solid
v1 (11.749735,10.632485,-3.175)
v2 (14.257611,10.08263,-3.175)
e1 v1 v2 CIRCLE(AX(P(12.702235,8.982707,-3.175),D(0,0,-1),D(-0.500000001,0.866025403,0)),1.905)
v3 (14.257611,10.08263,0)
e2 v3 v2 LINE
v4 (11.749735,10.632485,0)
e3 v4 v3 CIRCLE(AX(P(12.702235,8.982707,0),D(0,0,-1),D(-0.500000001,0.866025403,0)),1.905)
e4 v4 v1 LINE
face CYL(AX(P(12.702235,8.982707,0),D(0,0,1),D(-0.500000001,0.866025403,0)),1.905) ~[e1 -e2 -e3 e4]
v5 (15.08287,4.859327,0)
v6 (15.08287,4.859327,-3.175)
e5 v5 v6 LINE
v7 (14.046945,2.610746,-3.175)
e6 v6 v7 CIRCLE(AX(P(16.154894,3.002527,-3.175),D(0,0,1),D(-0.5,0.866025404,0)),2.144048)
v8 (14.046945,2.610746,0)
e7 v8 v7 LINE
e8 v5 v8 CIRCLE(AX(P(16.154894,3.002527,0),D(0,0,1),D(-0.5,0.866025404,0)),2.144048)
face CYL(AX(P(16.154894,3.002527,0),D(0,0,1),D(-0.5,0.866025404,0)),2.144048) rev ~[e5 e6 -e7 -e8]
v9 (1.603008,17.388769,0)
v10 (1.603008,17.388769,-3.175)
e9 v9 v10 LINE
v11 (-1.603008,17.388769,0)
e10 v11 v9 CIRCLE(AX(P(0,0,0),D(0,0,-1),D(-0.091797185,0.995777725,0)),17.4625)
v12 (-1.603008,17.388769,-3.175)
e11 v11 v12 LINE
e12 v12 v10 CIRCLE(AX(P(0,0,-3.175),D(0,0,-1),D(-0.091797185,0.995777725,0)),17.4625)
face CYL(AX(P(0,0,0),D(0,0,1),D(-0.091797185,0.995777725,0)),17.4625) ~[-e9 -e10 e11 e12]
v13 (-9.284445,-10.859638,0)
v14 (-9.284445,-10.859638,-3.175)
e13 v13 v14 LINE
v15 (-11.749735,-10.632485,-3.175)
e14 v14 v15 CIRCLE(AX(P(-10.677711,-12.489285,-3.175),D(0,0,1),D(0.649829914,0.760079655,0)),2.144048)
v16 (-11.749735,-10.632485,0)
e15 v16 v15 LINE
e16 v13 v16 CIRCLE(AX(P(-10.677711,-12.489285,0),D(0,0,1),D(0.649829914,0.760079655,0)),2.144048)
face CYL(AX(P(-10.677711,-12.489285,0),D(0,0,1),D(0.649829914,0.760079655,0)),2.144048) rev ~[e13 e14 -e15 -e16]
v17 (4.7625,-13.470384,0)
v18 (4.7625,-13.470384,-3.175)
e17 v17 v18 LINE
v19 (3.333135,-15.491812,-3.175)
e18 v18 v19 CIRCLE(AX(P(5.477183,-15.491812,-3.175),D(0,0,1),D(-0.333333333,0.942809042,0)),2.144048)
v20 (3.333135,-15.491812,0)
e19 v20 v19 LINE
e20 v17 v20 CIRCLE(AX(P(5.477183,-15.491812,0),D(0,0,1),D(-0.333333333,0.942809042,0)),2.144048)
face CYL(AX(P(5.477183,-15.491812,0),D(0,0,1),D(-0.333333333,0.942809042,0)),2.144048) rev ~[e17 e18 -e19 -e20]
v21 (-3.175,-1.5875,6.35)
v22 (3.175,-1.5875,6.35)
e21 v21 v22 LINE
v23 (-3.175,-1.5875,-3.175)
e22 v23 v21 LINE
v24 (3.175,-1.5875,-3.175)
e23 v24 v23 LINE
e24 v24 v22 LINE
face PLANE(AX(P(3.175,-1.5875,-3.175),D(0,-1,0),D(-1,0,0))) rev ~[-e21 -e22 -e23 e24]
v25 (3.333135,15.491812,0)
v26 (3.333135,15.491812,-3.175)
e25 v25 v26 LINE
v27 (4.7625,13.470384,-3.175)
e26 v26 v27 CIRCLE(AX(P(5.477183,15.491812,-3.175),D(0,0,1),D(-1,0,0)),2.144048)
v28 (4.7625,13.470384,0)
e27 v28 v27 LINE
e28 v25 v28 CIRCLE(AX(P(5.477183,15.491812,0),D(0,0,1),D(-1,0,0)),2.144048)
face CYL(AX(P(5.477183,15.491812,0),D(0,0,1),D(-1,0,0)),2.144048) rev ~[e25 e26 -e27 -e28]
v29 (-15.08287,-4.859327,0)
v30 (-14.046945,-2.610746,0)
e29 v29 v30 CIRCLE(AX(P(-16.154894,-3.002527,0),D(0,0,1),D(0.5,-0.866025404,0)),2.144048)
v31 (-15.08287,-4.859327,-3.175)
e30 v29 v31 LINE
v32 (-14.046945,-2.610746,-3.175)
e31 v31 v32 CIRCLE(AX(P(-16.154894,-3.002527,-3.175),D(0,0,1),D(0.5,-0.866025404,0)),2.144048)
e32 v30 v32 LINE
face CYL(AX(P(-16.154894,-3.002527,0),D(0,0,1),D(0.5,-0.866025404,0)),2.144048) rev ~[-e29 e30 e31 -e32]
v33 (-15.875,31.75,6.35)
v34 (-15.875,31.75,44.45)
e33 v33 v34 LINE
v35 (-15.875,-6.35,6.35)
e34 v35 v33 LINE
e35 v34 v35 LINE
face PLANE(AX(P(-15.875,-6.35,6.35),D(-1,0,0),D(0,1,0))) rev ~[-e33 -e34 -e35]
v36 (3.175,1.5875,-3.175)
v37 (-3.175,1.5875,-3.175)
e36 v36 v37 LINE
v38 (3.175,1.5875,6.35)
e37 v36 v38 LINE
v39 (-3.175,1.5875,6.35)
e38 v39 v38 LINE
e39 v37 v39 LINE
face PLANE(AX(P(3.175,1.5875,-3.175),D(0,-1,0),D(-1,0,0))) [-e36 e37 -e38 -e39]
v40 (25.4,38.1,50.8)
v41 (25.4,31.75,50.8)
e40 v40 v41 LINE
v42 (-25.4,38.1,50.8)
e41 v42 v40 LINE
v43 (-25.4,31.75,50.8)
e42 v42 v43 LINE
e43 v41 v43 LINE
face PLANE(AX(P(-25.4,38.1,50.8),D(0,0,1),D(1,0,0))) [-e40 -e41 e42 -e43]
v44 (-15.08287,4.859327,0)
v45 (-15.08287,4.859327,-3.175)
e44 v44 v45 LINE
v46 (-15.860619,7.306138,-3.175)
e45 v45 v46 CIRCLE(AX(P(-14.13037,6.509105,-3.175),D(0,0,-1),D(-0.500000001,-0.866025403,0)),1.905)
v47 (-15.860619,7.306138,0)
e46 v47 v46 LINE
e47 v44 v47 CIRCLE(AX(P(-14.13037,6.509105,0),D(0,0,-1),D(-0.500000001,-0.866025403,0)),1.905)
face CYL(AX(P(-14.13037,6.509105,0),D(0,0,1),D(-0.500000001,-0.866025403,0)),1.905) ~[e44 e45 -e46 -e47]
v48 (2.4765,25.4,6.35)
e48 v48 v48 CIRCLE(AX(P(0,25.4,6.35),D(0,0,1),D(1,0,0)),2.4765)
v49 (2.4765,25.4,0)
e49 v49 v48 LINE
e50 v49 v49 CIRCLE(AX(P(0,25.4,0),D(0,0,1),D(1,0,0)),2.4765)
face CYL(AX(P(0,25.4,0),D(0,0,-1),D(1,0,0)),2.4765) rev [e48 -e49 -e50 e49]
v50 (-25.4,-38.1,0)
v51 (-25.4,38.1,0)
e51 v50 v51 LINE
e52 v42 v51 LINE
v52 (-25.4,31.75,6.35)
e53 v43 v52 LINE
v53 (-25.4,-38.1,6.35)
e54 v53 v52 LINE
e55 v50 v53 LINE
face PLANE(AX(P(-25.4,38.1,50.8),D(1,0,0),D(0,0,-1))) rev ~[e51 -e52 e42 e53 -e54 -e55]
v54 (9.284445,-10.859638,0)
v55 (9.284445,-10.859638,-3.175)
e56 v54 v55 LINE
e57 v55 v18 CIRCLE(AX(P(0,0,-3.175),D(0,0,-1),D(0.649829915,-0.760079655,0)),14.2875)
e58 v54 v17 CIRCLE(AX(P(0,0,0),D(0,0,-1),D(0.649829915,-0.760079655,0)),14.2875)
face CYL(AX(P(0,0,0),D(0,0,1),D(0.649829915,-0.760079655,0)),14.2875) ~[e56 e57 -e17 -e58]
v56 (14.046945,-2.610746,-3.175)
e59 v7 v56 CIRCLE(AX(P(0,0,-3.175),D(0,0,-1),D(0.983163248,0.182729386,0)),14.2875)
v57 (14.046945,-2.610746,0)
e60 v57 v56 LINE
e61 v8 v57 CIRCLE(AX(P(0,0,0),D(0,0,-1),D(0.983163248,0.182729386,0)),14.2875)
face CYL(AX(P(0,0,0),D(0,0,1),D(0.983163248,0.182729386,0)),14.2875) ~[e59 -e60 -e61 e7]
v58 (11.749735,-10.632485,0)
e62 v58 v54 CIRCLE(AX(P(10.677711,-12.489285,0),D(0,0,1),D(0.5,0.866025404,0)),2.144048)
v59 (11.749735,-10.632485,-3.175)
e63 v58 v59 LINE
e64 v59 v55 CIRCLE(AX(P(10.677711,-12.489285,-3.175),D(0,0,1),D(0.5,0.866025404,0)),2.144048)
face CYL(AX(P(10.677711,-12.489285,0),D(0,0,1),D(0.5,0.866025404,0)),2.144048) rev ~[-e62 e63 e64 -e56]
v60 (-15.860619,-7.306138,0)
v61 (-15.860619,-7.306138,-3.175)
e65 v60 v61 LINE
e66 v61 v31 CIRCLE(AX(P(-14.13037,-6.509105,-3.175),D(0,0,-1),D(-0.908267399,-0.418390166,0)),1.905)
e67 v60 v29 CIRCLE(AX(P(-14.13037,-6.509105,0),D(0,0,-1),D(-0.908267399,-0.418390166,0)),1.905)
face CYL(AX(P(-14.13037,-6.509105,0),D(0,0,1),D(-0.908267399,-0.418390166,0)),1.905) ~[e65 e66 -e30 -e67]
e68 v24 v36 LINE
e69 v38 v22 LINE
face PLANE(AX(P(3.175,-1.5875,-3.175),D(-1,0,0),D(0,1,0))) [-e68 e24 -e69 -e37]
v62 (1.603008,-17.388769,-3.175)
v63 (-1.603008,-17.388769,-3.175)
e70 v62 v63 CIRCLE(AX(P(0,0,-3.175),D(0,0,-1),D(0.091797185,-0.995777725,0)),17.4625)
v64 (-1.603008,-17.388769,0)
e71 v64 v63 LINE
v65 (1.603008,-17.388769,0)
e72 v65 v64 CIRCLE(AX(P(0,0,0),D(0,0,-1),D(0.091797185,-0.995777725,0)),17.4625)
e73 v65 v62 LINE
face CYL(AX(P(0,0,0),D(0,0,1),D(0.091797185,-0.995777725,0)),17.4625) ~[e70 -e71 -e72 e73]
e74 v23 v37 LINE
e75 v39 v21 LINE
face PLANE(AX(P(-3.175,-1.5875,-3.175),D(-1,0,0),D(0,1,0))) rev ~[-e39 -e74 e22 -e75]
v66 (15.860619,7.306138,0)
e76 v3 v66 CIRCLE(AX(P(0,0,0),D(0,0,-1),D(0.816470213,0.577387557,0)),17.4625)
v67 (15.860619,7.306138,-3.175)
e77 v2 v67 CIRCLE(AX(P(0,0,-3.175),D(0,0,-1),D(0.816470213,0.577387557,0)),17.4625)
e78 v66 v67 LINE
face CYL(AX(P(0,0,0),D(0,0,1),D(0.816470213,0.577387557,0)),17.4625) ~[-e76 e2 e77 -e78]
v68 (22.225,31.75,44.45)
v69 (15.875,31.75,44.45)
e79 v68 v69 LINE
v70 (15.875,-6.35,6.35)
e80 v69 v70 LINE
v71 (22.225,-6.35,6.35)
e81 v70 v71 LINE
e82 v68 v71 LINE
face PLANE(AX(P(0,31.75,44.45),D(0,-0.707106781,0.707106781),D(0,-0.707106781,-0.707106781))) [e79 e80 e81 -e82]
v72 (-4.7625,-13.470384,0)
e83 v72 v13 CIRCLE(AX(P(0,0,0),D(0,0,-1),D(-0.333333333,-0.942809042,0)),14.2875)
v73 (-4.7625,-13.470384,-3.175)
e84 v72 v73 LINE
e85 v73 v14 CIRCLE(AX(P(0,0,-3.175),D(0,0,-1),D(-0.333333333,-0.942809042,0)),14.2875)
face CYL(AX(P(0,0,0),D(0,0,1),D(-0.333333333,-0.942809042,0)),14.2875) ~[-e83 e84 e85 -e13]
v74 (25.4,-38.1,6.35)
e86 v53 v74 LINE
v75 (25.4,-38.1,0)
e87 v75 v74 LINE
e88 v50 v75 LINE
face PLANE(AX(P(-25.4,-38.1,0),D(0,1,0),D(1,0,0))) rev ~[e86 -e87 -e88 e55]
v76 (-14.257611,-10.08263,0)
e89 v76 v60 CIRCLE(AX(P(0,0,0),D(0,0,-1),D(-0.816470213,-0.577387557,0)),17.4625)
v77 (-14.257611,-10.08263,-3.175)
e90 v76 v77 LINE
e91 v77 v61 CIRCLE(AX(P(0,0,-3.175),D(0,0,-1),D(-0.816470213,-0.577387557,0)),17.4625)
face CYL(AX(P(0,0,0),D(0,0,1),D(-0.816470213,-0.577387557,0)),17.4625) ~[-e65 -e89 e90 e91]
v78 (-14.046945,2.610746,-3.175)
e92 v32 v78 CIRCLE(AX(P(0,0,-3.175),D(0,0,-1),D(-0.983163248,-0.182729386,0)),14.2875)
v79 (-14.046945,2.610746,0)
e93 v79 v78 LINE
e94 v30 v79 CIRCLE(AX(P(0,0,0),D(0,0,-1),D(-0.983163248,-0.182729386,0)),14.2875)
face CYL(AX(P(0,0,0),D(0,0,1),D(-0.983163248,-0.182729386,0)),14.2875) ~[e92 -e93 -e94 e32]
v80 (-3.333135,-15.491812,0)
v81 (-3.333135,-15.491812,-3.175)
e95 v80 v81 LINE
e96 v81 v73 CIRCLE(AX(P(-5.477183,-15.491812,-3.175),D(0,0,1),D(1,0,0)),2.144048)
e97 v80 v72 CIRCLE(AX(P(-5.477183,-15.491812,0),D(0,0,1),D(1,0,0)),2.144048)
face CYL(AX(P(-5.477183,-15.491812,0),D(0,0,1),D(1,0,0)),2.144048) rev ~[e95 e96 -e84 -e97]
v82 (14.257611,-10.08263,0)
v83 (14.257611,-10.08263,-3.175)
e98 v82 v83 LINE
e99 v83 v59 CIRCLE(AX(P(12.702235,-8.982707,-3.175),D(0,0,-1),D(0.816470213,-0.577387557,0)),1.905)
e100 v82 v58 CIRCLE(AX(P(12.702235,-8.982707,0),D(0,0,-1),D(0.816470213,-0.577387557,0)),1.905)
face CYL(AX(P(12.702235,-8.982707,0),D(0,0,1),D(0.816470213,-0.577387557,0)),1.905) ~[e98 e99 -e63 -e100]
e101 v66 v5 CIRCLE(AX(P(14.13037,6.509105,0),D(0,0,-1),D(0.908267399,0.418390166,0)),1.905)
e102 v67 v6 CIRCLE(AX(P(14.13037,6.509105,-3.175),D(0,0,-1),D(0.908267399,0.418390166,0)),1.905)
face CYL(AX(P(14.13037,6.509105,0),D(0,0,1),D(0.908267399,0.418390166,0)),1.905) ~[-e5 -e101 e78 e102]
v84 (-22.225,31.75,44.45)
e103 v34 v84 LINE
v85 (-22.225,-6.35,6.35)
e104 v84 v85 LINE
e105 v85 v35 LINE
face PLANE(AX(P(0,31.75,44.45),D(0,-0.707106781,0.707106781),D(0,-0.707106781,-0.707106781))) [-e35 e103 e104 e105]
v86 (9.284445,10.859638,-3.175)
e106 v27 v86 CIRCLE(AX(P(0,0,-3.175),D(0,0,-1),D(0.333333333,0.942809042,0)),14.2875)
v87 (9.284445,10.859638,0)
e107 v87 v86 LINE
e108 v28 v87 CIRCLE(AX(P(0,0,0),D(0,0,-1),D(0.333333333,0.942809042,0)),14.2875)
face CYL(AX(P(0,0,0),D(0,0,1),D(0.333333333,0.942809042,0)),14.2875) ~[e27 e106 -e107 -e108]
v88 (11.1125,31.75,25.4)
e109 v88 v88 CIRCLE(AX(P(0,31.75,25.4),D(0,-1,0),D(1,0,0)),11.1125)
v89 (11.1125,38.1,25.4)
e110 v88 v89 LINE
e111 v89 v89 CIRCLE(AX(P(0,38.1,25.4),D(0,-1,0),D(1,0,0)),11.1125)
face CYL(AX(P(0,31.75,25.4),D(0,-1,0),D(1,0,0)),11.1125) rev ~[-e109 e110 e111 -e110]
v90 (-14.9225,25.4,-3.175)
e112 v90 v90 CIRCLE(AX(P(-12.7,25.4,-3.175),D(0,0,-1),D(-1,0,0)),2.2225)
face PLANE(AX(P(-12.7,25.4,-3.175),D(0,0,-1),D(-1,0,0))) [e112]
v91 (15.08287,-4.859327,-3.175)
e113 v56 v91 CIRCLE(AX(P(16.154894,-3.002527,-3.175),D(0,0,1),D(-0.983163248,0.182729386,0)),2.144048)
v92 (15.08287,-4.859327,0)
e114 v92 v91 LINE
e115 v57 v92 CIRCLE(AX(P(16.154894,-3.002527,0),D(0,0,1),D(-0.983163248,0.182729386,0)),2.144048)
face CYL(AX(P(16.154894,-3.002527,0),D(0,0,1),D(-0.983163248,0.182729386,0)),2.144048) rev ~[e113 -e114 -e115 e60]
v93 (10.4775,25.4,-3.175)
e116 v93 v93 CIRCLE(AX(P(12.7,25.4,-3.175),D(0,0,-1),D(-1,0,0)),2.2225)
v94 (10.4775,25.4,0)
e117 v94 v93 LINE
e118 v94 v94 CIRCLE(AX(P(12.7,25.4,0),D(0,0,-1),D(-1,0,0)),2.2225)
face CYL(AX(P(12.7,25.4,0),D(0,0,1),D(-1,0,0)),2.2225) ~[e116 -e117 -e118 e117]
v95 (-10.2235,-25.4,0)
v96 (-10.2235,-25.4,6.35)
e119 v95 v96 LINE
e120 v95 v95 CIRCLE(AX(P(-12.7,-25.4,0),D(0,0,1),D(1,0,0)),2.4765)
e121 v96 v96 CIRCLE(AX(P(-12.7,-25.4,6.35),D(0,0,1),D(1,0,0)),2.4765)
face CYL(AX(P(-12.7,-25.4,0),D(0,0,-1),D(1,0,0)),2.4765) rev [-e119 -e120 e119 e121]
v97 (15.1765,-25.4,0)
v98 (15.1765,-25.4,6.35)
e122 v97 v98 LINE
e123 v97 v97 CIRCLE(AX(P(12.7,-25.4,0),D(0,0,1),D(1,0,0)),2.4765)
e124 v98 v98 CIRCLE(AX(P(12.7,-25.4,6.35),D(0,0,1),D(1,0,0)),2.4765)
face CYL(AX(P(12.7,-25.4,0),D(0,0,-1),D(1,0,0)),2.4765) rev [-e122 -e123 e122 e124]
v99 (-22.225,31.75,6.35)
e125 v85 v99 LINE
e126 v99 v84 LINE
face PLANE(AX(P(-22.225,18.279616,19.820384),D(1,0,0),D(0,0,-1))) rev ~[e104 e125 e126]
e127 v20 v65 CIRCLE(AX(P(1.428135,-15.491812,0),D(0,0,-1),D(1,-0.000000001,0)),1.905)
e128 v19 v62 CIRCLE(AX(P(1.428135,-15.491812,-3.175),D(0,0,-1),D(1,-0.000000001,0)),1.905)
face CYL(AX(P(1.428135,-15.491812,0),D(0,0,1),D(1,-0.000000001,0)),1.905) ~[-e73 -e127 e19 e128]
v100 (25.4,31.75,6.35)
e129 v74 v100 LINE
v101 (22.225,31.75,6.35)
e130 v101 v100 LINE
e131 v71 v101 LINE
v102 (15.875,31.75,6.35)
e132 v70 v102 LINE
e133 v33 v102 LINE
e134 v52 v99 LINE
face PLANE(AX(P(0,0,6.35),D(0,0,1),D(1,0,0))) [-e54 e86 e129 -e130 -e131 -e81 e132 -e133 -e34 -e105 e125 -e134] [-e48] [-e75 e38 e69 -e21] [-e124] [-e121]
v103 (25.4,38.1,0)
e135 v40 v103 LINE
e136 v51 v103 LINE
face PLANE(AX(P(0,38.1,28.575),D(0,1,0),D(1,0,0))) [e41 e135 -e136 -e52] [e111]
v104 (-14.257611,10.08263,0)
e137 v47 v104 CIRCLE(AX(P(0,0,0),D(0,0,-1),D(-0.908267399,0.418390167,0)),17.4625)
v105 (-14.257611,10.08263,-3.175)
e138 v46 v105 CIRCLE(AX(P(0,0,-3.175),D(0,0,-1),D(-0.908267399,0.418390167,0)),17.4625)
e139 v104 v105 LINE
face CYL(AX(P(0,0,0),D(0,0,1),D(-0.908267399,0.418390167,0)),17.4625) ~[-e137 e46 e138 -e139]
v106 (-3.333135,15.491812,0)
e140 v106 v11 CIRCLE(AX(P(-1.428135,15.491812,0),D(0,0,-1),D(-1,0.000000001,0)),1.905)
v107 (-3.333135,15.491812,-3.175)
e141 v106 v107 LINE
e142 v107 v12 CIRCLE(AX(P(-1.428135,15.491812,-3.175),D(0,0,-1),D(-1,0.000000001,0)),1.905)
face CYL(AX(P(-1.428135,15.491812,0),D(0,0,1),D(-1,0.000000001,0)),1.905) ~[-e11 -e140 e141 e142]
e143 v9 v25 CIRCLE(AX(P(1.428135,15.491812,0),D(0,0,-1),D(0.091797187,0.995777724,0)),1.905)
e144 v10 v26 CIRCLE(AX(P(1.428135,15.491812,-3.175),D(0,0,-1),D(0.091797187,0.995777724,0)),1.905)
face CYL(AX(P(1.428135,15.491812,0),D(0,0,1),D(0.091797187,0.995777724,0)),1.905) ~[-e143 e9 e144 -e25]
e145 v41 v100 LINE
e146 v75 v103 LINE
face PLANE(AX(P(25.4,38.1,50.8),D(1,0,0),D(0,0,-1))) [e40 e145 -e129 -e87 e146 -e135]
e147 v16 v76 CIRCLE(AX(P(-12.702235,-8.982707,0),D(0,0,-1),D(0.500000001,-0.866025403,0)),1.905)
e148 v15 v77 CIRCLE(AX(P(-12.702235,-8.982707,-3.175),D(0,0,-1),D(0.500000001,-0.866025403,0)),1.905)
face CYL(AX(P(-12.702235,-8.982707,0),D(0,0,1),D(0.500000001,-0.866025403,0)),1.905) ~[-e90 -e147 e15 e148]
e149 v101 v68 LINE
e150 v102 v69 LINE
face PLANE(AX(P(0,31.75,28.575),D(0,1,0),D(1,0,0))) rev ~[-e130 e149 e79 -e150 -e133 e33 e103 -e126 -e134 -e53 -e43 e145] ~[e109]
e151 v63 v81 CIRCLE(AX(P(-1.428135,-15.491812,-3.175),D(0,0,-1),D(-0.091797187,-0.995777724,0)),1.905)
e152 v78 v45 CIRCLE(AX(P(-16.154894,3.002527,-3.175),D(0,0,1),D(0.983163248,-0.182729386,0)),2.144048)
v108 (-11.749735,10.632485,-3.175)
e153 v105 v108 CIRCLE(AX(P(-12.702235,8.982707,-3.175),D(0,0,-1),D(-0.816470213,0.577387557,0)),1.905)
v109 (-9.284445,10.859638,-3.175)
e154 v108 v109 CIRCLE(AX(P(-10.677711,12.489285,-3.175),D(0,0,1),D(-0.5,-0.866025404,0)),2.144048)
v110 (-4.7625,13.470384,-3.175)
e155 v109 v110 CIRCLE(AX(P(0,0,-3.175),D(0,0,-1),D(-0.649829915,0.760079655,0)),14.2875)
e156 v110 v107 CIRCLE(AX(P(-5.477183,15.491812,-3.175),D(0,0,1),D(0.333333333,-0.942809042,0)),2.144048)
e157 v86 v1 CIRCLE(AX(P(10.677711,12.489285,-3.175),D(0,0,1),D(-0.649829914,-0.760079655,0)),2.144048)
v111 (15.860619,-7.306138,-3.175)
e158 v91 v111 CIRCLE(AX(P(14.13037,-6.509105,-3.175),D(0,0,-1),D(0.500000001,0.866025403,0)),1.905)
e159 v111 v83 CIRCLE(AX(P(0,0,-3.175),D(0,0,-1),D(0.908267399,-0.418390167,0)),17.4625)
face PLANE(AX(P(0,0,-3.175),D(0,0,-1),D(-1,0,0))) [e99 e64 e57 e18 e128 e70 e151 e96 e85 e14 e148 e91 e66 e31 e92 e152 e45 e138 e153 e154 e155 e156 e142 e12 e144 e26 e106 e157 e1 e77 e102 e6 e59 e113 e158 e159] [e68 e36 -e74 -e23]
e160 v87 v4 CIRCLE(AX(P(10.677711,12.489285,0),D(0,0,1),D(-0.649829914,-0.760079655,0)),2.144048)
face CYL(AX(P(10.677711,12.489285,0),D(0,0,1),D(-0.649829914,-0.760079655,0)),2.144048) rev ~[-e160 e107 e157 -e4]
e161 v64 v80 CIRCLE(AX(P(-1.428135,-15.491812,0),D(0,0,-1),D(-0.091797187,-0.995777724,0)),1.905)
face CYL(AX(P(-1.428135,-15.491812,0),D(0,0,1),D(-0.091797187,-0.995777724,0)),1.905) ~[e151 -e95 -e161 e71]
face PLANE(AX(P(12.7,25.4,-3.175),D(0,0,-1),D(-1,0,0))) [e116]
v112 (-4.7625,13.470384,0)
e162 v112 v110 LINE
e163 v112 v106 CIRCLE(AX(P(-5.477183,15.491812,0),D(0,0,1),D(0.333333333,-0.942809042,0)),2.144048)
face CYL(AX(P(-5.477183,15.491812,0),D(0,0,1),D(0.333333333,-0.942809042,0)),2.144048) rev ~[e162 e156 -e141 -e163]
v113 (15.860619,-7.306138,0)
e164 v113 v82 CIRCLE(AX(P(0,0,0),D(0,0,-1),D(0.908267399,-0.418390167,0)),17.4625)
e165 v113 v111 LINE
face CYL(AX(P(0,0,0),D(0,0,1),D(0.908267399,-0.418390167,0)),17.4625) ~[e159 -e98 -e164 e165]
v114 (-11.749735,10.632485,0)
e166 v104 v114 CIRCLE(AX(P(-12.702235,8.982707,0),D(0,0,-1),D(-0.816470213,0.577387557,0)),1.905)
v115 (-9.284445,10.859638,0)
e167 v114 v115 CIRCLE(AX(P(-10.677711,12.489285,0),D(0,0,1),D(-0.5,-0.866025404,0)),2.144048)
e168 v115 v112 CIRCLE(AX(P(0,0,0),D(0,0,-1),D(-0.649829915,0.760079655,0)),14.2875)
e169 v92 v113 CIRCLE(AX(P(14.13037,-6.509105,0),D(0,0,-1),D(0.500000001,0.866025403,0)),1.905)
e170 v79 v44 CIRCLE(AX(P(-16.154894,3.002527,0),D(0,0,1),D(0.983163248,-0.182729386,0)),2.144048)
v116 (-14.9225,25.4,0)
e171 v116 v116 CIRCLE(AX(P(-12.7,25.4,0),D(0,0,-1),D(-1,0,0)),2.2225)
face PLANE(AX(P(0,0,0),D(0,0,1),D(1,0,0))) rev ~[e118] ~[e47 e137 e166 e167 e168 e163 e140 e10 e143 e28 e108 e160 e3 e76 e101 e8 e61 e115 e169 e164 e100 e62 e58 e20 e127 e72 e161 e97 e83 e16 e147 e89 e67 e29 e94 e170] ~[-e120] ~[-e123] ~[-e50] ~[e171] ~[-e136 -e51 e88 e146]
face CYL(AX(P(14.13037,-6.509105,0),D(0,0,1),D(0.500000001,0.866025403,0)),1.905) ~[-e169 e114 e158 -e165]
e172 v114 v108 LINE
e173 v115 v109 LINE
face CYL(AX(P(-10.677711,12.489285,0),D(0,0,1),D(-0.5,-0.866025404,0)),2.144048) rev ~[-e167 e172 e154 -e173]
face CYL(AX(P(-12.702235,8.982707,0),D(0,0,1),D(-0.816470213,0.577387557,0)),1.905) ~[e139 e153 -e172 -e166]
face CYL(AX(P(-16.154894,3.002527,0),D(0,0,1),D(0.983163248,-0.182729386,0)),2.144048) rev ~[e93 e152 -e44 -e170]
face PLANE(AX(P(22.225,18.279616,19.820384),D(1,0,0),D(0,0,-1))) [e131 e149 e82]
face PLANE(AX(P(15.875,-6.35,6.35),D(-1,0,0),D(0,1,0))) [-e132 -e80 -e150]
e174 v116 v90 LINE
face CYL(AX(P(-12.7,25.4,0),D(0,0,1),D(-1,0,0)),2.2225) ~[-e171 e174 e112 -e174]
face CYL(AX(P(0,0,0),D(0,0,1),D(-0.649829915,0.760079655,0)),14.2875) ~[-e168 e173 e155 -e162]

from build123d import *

# Parameters (mm, degrees)
SKETCH1_W           = 50.8
SKETCH1_H           = 76.2
SKETCH1_R           = 2.4765
BOSS_EXTRUDE1_DEPTH = 6.35
SKETCH2_R           = 2.2225
BOSS_EXTRUDE2_DEPTH = 3.175
SKETCH3_W           = 6.35
SKETCH3_H           = 3.175
CUT_EXTRUDE1_DEPTH  = 10.525
SKETCH4_W           = 50.8
SKETCH4_H           = 44.45
BOSS_EXTRUDE3_DEPTH = 6.35
BOSS_EXTRUDE4_DEPTH = 22.225
SKETCH6_W           = 31.75
SKETCH6_H           = 38.1
CUT_EXTRUDE2_DEPTH  = 45.45
SKETCH7_R           = 11.1125
CUT_EXTRUDE3_DEPTH  = 7.35


with BuildPart() as part:
    # Sketch1 → Boss-Extrude1 (new body)
    with BuildSketch(Plane.XY):
        Rectangle(SKETCH1_W, SKETCH1_H)
        with Locations((-12.7, -25.4)):
            Circle(SKETCH1_R, mode=Mode.SUBTRACT)
        with Locations((12.7, -25.4)):
            Circle(SKETCH1_R, mode=Mode.SUBTRACT)
        with Locations((0, 25.4)):
            Circle(SKETCH1_R, mode=Mode.SUBTRACT)
    extrude(amount=BOSS_EXTRUDE1_DEPTH)

    # Sketch2 → Boss-Extrude2 (add)
    with BuildSketch(Plane(origin=(0, 0, 0), x_dir=(-1, 0, 0), z_dir=(0, 0, -1))):
        with Locations((-12.7, 25.4)):
            Circle(SKETCH2_R)
        with Locations((12.7, 25.4)):
            Circle(SKETCH2_R)
        with BuildLine():
            ThreePointArc((-4.7625, 13.470384182), (-7.14375, 12.373337957), (-9.2844449, 10.859638076))
            ThreePointArc((-9.2844449, 10.859638076), (-10.480991316, 10.354281134), (-11.74973534, 10.632485314))
            ThreePointArc((-11.74973534, 10.632485314), (-13.110218123, 10.843506493), (-14.257611096, 10.082630217))
            ThreePointArc((-14.257611096, 10.082630217), (-15.122968614, 8.73125), (-15.860619453, 7.306138298))
            ThreePointArc((-15.860619453, 7.306138298), (-15.94586115, 5.932028698), (-15.082870058, 4.859326635))
            ThreePointArc((-15.082870058, 4.859326635), (-14.207566158, 3.899664169), (-14.0469449, 2.610746105))
            ThreePointArc((-14.0469449, 2.610746105), (-14.2875, 0), (-14.0469449, -2.610746105))
            ThreePointArc((-14.0469449, -2.610746105), (-14.207566158, -3.899664169), (-15.082870058, -4.859326635))
            ThreePointArc((-15.082870058, -4.859326635), (-15.94586115, -5.932028698), (-15.860619453, -7.306138298))
            ThreePointArc((-15.860619453, -7.306138298), (-15.122968614, -8.73125), (-14.257611096, -10.082630217))
            ThreePointArc((-14.257611096, -10.082630217), (-13.110218123, -10.843506493), (-11.74973534, -10.632485314))
            ThreePointArc((-11.74973534, -10.632485314), (-10.480991316, -10.354281134), (-9.2844449, -10.859638076))
            ThreePointArc((-9.2844449, -10.859638076), (-7.14375, -12.373337957), (-4.7625, -13.470384182))
            ThreePointArc((-4.7625, -13.470384182), (-3.726574842, -14.253945304), (-3.333134718, -15.491811949))
            ThreePointArc((-3.333134718, -15.491811949), (-2.835643027, -16.77553519), (-1.603008357, -17.388768515))
            ThreePointArc((-1.603008357, -17.388768515), (0, -17.4625), (1.603008357, -17.388768515))
            ThreePointArc((1.603008357, -17.388768515), (2.835643027, -16.77553519), (3.333134718, -15.491811949))
            ThreePointArc((3.333134718, -15.491811949), (3.726574842, -14.253945304), (4.7625, -13.470384182))
            ThreePointArc((4.7625, -13.470384182), (7.14375, -12.373337957), (9.2844449, -10.859638076))
            ThreePointArc((9.2844449, -10.859638076), (10.480991316, -10.354281134), (11.74973534, -10.632485314))
            ThreePointArc((11.74973534, -10.632485314), (13.110218123, -10.843506493), (14.257611096, -10.082630217))
            ThreePointArc((14.257611096, -10.082630217), (15.122968614, -8.73125), (15.860619453, -7.306138298))
            ThreePointArc((15.860619453, -7.306138298), (15.94586115, -5.932028698), (15.082870058, -4.859326635))
            ThreePointArc((15.082870058, -4.859326635), (14.207566158, -3.899664169), (14.0469449, -2.610746105))
            ThreePointArc((14.0469449, -2.610746105), (14.2875, 0), (14.0469449, 2.610746105))
            ThreePointArc((14.0469449, 2.610746105), (14.207566158, 3.899664169), (15.082870058, 4.859326635))
            ThreePointArc((15.082870058, 4.859326635), (15.94586115, 5.932028698), (15.860619453, 7.306138298))
            ThreePointArc((15.860619453, 7.306138298), (15.122968614, 8.73125), (14.257611096, 10.082630217))
            ThreePointArc((14.257611096, 10.082630217), (13.110218123, 10.843506493), (11.74973534, 10.632485314))
            ThreePointArc((11.74973534, 10.632485314), (10.480991316, 10.354281134), (9.2844449, 10.859638076))
            ThreePointArc((9.2844449, 10.859638076), (7.14375, 12.373337957), (4.7625, 13.470384182))
            ThreePointArc((4.7625, 13.470384182), (3.726574842, 14.253945304), (3.333134718, 15.491811949))
            ThreePointArc((3.333134718, 15.491811949), (2.835643027, 16.77553519), (1.603008357, 17.388768515))
            ThreePointArc((1.603008357, 17.388768515), (0, 17.4625), (-1.603008357, 17.388768515))
            ThreePointArc((-1.603008357, 17.388768515), (-2.835643027, 16.77553519), (-3.333134718, 15.491811949))
            ThreePointArc((-3.333134718, 15.491811949), (-3.726574842, 14.253945304), (-4.7625, 13.470384182))
        make_face()
    extrude(amount=BOSS_EXTRUDE2_DEPTH)

    # Sketch3 → Cut-Extrude1 (cut, through all)
    with BuildSketch(Plane(origin=(0, 0, -3.175), x_dir=(-1, 0, 0), z_dir=(0, 0, -1))):
        Rectangle(SKETCH3_W, SKETCH3_H)
    extrude(amount=-CUT_EXTRUDE1_DEPTH, mode=Mode.SUBTRACT)

    # Sketch4 → Boss-Extrude3 (add)
    with BuildSketch(Plane(origin=(0, 38.1, 0), x_dir=(1, 0, 0), z_dir=(0, 1, 0))):
        with Locations((0, -28.575)):
            Rectangle(SKETCH4_W, SKETCH4_H)
    extrude(amount=-BOSS_EXTRUDE3_DEPTH)

    # Sketch5 → Boss-Extrude4 (add, symmetric)
    with BuildSketch(Plane(origin=(0, 0, 0), x_dir=(0, 0, -1), z_dir=(1, 0, 0))):
        Polygon((-44.45, 31.75), (-6.35, -6.35), (-6.35, 31.75), align=None)
    extrude(amount=BOSS_EXTRUDE4_DEPTH, both=True)

    # Sketch6 → Cut-Extrude2 (cut, through all)
    with BuildSketch(Plane.XY.offset(6.35)):
        with Locations((0, 12.7)):
            Rectangle(SKETCH6_W, SKETCH6_H)
    extrude(amount=CUT_EXTRUDE2_DEPTH, mode=Mode.SUBTRACT)

    # Sketch7 → Cut-Extrude3 (cut, through all)
    with BuildSketch(Plane.XZ.offset(-31.75)):
        with Locations((0, 25.4)):
            Circle(SKETCH7_R)
    extrude(amount=-CUT_EXTRUDE3_DEPTH, mode=Mode.SUBTRACT)


solid = part.part
